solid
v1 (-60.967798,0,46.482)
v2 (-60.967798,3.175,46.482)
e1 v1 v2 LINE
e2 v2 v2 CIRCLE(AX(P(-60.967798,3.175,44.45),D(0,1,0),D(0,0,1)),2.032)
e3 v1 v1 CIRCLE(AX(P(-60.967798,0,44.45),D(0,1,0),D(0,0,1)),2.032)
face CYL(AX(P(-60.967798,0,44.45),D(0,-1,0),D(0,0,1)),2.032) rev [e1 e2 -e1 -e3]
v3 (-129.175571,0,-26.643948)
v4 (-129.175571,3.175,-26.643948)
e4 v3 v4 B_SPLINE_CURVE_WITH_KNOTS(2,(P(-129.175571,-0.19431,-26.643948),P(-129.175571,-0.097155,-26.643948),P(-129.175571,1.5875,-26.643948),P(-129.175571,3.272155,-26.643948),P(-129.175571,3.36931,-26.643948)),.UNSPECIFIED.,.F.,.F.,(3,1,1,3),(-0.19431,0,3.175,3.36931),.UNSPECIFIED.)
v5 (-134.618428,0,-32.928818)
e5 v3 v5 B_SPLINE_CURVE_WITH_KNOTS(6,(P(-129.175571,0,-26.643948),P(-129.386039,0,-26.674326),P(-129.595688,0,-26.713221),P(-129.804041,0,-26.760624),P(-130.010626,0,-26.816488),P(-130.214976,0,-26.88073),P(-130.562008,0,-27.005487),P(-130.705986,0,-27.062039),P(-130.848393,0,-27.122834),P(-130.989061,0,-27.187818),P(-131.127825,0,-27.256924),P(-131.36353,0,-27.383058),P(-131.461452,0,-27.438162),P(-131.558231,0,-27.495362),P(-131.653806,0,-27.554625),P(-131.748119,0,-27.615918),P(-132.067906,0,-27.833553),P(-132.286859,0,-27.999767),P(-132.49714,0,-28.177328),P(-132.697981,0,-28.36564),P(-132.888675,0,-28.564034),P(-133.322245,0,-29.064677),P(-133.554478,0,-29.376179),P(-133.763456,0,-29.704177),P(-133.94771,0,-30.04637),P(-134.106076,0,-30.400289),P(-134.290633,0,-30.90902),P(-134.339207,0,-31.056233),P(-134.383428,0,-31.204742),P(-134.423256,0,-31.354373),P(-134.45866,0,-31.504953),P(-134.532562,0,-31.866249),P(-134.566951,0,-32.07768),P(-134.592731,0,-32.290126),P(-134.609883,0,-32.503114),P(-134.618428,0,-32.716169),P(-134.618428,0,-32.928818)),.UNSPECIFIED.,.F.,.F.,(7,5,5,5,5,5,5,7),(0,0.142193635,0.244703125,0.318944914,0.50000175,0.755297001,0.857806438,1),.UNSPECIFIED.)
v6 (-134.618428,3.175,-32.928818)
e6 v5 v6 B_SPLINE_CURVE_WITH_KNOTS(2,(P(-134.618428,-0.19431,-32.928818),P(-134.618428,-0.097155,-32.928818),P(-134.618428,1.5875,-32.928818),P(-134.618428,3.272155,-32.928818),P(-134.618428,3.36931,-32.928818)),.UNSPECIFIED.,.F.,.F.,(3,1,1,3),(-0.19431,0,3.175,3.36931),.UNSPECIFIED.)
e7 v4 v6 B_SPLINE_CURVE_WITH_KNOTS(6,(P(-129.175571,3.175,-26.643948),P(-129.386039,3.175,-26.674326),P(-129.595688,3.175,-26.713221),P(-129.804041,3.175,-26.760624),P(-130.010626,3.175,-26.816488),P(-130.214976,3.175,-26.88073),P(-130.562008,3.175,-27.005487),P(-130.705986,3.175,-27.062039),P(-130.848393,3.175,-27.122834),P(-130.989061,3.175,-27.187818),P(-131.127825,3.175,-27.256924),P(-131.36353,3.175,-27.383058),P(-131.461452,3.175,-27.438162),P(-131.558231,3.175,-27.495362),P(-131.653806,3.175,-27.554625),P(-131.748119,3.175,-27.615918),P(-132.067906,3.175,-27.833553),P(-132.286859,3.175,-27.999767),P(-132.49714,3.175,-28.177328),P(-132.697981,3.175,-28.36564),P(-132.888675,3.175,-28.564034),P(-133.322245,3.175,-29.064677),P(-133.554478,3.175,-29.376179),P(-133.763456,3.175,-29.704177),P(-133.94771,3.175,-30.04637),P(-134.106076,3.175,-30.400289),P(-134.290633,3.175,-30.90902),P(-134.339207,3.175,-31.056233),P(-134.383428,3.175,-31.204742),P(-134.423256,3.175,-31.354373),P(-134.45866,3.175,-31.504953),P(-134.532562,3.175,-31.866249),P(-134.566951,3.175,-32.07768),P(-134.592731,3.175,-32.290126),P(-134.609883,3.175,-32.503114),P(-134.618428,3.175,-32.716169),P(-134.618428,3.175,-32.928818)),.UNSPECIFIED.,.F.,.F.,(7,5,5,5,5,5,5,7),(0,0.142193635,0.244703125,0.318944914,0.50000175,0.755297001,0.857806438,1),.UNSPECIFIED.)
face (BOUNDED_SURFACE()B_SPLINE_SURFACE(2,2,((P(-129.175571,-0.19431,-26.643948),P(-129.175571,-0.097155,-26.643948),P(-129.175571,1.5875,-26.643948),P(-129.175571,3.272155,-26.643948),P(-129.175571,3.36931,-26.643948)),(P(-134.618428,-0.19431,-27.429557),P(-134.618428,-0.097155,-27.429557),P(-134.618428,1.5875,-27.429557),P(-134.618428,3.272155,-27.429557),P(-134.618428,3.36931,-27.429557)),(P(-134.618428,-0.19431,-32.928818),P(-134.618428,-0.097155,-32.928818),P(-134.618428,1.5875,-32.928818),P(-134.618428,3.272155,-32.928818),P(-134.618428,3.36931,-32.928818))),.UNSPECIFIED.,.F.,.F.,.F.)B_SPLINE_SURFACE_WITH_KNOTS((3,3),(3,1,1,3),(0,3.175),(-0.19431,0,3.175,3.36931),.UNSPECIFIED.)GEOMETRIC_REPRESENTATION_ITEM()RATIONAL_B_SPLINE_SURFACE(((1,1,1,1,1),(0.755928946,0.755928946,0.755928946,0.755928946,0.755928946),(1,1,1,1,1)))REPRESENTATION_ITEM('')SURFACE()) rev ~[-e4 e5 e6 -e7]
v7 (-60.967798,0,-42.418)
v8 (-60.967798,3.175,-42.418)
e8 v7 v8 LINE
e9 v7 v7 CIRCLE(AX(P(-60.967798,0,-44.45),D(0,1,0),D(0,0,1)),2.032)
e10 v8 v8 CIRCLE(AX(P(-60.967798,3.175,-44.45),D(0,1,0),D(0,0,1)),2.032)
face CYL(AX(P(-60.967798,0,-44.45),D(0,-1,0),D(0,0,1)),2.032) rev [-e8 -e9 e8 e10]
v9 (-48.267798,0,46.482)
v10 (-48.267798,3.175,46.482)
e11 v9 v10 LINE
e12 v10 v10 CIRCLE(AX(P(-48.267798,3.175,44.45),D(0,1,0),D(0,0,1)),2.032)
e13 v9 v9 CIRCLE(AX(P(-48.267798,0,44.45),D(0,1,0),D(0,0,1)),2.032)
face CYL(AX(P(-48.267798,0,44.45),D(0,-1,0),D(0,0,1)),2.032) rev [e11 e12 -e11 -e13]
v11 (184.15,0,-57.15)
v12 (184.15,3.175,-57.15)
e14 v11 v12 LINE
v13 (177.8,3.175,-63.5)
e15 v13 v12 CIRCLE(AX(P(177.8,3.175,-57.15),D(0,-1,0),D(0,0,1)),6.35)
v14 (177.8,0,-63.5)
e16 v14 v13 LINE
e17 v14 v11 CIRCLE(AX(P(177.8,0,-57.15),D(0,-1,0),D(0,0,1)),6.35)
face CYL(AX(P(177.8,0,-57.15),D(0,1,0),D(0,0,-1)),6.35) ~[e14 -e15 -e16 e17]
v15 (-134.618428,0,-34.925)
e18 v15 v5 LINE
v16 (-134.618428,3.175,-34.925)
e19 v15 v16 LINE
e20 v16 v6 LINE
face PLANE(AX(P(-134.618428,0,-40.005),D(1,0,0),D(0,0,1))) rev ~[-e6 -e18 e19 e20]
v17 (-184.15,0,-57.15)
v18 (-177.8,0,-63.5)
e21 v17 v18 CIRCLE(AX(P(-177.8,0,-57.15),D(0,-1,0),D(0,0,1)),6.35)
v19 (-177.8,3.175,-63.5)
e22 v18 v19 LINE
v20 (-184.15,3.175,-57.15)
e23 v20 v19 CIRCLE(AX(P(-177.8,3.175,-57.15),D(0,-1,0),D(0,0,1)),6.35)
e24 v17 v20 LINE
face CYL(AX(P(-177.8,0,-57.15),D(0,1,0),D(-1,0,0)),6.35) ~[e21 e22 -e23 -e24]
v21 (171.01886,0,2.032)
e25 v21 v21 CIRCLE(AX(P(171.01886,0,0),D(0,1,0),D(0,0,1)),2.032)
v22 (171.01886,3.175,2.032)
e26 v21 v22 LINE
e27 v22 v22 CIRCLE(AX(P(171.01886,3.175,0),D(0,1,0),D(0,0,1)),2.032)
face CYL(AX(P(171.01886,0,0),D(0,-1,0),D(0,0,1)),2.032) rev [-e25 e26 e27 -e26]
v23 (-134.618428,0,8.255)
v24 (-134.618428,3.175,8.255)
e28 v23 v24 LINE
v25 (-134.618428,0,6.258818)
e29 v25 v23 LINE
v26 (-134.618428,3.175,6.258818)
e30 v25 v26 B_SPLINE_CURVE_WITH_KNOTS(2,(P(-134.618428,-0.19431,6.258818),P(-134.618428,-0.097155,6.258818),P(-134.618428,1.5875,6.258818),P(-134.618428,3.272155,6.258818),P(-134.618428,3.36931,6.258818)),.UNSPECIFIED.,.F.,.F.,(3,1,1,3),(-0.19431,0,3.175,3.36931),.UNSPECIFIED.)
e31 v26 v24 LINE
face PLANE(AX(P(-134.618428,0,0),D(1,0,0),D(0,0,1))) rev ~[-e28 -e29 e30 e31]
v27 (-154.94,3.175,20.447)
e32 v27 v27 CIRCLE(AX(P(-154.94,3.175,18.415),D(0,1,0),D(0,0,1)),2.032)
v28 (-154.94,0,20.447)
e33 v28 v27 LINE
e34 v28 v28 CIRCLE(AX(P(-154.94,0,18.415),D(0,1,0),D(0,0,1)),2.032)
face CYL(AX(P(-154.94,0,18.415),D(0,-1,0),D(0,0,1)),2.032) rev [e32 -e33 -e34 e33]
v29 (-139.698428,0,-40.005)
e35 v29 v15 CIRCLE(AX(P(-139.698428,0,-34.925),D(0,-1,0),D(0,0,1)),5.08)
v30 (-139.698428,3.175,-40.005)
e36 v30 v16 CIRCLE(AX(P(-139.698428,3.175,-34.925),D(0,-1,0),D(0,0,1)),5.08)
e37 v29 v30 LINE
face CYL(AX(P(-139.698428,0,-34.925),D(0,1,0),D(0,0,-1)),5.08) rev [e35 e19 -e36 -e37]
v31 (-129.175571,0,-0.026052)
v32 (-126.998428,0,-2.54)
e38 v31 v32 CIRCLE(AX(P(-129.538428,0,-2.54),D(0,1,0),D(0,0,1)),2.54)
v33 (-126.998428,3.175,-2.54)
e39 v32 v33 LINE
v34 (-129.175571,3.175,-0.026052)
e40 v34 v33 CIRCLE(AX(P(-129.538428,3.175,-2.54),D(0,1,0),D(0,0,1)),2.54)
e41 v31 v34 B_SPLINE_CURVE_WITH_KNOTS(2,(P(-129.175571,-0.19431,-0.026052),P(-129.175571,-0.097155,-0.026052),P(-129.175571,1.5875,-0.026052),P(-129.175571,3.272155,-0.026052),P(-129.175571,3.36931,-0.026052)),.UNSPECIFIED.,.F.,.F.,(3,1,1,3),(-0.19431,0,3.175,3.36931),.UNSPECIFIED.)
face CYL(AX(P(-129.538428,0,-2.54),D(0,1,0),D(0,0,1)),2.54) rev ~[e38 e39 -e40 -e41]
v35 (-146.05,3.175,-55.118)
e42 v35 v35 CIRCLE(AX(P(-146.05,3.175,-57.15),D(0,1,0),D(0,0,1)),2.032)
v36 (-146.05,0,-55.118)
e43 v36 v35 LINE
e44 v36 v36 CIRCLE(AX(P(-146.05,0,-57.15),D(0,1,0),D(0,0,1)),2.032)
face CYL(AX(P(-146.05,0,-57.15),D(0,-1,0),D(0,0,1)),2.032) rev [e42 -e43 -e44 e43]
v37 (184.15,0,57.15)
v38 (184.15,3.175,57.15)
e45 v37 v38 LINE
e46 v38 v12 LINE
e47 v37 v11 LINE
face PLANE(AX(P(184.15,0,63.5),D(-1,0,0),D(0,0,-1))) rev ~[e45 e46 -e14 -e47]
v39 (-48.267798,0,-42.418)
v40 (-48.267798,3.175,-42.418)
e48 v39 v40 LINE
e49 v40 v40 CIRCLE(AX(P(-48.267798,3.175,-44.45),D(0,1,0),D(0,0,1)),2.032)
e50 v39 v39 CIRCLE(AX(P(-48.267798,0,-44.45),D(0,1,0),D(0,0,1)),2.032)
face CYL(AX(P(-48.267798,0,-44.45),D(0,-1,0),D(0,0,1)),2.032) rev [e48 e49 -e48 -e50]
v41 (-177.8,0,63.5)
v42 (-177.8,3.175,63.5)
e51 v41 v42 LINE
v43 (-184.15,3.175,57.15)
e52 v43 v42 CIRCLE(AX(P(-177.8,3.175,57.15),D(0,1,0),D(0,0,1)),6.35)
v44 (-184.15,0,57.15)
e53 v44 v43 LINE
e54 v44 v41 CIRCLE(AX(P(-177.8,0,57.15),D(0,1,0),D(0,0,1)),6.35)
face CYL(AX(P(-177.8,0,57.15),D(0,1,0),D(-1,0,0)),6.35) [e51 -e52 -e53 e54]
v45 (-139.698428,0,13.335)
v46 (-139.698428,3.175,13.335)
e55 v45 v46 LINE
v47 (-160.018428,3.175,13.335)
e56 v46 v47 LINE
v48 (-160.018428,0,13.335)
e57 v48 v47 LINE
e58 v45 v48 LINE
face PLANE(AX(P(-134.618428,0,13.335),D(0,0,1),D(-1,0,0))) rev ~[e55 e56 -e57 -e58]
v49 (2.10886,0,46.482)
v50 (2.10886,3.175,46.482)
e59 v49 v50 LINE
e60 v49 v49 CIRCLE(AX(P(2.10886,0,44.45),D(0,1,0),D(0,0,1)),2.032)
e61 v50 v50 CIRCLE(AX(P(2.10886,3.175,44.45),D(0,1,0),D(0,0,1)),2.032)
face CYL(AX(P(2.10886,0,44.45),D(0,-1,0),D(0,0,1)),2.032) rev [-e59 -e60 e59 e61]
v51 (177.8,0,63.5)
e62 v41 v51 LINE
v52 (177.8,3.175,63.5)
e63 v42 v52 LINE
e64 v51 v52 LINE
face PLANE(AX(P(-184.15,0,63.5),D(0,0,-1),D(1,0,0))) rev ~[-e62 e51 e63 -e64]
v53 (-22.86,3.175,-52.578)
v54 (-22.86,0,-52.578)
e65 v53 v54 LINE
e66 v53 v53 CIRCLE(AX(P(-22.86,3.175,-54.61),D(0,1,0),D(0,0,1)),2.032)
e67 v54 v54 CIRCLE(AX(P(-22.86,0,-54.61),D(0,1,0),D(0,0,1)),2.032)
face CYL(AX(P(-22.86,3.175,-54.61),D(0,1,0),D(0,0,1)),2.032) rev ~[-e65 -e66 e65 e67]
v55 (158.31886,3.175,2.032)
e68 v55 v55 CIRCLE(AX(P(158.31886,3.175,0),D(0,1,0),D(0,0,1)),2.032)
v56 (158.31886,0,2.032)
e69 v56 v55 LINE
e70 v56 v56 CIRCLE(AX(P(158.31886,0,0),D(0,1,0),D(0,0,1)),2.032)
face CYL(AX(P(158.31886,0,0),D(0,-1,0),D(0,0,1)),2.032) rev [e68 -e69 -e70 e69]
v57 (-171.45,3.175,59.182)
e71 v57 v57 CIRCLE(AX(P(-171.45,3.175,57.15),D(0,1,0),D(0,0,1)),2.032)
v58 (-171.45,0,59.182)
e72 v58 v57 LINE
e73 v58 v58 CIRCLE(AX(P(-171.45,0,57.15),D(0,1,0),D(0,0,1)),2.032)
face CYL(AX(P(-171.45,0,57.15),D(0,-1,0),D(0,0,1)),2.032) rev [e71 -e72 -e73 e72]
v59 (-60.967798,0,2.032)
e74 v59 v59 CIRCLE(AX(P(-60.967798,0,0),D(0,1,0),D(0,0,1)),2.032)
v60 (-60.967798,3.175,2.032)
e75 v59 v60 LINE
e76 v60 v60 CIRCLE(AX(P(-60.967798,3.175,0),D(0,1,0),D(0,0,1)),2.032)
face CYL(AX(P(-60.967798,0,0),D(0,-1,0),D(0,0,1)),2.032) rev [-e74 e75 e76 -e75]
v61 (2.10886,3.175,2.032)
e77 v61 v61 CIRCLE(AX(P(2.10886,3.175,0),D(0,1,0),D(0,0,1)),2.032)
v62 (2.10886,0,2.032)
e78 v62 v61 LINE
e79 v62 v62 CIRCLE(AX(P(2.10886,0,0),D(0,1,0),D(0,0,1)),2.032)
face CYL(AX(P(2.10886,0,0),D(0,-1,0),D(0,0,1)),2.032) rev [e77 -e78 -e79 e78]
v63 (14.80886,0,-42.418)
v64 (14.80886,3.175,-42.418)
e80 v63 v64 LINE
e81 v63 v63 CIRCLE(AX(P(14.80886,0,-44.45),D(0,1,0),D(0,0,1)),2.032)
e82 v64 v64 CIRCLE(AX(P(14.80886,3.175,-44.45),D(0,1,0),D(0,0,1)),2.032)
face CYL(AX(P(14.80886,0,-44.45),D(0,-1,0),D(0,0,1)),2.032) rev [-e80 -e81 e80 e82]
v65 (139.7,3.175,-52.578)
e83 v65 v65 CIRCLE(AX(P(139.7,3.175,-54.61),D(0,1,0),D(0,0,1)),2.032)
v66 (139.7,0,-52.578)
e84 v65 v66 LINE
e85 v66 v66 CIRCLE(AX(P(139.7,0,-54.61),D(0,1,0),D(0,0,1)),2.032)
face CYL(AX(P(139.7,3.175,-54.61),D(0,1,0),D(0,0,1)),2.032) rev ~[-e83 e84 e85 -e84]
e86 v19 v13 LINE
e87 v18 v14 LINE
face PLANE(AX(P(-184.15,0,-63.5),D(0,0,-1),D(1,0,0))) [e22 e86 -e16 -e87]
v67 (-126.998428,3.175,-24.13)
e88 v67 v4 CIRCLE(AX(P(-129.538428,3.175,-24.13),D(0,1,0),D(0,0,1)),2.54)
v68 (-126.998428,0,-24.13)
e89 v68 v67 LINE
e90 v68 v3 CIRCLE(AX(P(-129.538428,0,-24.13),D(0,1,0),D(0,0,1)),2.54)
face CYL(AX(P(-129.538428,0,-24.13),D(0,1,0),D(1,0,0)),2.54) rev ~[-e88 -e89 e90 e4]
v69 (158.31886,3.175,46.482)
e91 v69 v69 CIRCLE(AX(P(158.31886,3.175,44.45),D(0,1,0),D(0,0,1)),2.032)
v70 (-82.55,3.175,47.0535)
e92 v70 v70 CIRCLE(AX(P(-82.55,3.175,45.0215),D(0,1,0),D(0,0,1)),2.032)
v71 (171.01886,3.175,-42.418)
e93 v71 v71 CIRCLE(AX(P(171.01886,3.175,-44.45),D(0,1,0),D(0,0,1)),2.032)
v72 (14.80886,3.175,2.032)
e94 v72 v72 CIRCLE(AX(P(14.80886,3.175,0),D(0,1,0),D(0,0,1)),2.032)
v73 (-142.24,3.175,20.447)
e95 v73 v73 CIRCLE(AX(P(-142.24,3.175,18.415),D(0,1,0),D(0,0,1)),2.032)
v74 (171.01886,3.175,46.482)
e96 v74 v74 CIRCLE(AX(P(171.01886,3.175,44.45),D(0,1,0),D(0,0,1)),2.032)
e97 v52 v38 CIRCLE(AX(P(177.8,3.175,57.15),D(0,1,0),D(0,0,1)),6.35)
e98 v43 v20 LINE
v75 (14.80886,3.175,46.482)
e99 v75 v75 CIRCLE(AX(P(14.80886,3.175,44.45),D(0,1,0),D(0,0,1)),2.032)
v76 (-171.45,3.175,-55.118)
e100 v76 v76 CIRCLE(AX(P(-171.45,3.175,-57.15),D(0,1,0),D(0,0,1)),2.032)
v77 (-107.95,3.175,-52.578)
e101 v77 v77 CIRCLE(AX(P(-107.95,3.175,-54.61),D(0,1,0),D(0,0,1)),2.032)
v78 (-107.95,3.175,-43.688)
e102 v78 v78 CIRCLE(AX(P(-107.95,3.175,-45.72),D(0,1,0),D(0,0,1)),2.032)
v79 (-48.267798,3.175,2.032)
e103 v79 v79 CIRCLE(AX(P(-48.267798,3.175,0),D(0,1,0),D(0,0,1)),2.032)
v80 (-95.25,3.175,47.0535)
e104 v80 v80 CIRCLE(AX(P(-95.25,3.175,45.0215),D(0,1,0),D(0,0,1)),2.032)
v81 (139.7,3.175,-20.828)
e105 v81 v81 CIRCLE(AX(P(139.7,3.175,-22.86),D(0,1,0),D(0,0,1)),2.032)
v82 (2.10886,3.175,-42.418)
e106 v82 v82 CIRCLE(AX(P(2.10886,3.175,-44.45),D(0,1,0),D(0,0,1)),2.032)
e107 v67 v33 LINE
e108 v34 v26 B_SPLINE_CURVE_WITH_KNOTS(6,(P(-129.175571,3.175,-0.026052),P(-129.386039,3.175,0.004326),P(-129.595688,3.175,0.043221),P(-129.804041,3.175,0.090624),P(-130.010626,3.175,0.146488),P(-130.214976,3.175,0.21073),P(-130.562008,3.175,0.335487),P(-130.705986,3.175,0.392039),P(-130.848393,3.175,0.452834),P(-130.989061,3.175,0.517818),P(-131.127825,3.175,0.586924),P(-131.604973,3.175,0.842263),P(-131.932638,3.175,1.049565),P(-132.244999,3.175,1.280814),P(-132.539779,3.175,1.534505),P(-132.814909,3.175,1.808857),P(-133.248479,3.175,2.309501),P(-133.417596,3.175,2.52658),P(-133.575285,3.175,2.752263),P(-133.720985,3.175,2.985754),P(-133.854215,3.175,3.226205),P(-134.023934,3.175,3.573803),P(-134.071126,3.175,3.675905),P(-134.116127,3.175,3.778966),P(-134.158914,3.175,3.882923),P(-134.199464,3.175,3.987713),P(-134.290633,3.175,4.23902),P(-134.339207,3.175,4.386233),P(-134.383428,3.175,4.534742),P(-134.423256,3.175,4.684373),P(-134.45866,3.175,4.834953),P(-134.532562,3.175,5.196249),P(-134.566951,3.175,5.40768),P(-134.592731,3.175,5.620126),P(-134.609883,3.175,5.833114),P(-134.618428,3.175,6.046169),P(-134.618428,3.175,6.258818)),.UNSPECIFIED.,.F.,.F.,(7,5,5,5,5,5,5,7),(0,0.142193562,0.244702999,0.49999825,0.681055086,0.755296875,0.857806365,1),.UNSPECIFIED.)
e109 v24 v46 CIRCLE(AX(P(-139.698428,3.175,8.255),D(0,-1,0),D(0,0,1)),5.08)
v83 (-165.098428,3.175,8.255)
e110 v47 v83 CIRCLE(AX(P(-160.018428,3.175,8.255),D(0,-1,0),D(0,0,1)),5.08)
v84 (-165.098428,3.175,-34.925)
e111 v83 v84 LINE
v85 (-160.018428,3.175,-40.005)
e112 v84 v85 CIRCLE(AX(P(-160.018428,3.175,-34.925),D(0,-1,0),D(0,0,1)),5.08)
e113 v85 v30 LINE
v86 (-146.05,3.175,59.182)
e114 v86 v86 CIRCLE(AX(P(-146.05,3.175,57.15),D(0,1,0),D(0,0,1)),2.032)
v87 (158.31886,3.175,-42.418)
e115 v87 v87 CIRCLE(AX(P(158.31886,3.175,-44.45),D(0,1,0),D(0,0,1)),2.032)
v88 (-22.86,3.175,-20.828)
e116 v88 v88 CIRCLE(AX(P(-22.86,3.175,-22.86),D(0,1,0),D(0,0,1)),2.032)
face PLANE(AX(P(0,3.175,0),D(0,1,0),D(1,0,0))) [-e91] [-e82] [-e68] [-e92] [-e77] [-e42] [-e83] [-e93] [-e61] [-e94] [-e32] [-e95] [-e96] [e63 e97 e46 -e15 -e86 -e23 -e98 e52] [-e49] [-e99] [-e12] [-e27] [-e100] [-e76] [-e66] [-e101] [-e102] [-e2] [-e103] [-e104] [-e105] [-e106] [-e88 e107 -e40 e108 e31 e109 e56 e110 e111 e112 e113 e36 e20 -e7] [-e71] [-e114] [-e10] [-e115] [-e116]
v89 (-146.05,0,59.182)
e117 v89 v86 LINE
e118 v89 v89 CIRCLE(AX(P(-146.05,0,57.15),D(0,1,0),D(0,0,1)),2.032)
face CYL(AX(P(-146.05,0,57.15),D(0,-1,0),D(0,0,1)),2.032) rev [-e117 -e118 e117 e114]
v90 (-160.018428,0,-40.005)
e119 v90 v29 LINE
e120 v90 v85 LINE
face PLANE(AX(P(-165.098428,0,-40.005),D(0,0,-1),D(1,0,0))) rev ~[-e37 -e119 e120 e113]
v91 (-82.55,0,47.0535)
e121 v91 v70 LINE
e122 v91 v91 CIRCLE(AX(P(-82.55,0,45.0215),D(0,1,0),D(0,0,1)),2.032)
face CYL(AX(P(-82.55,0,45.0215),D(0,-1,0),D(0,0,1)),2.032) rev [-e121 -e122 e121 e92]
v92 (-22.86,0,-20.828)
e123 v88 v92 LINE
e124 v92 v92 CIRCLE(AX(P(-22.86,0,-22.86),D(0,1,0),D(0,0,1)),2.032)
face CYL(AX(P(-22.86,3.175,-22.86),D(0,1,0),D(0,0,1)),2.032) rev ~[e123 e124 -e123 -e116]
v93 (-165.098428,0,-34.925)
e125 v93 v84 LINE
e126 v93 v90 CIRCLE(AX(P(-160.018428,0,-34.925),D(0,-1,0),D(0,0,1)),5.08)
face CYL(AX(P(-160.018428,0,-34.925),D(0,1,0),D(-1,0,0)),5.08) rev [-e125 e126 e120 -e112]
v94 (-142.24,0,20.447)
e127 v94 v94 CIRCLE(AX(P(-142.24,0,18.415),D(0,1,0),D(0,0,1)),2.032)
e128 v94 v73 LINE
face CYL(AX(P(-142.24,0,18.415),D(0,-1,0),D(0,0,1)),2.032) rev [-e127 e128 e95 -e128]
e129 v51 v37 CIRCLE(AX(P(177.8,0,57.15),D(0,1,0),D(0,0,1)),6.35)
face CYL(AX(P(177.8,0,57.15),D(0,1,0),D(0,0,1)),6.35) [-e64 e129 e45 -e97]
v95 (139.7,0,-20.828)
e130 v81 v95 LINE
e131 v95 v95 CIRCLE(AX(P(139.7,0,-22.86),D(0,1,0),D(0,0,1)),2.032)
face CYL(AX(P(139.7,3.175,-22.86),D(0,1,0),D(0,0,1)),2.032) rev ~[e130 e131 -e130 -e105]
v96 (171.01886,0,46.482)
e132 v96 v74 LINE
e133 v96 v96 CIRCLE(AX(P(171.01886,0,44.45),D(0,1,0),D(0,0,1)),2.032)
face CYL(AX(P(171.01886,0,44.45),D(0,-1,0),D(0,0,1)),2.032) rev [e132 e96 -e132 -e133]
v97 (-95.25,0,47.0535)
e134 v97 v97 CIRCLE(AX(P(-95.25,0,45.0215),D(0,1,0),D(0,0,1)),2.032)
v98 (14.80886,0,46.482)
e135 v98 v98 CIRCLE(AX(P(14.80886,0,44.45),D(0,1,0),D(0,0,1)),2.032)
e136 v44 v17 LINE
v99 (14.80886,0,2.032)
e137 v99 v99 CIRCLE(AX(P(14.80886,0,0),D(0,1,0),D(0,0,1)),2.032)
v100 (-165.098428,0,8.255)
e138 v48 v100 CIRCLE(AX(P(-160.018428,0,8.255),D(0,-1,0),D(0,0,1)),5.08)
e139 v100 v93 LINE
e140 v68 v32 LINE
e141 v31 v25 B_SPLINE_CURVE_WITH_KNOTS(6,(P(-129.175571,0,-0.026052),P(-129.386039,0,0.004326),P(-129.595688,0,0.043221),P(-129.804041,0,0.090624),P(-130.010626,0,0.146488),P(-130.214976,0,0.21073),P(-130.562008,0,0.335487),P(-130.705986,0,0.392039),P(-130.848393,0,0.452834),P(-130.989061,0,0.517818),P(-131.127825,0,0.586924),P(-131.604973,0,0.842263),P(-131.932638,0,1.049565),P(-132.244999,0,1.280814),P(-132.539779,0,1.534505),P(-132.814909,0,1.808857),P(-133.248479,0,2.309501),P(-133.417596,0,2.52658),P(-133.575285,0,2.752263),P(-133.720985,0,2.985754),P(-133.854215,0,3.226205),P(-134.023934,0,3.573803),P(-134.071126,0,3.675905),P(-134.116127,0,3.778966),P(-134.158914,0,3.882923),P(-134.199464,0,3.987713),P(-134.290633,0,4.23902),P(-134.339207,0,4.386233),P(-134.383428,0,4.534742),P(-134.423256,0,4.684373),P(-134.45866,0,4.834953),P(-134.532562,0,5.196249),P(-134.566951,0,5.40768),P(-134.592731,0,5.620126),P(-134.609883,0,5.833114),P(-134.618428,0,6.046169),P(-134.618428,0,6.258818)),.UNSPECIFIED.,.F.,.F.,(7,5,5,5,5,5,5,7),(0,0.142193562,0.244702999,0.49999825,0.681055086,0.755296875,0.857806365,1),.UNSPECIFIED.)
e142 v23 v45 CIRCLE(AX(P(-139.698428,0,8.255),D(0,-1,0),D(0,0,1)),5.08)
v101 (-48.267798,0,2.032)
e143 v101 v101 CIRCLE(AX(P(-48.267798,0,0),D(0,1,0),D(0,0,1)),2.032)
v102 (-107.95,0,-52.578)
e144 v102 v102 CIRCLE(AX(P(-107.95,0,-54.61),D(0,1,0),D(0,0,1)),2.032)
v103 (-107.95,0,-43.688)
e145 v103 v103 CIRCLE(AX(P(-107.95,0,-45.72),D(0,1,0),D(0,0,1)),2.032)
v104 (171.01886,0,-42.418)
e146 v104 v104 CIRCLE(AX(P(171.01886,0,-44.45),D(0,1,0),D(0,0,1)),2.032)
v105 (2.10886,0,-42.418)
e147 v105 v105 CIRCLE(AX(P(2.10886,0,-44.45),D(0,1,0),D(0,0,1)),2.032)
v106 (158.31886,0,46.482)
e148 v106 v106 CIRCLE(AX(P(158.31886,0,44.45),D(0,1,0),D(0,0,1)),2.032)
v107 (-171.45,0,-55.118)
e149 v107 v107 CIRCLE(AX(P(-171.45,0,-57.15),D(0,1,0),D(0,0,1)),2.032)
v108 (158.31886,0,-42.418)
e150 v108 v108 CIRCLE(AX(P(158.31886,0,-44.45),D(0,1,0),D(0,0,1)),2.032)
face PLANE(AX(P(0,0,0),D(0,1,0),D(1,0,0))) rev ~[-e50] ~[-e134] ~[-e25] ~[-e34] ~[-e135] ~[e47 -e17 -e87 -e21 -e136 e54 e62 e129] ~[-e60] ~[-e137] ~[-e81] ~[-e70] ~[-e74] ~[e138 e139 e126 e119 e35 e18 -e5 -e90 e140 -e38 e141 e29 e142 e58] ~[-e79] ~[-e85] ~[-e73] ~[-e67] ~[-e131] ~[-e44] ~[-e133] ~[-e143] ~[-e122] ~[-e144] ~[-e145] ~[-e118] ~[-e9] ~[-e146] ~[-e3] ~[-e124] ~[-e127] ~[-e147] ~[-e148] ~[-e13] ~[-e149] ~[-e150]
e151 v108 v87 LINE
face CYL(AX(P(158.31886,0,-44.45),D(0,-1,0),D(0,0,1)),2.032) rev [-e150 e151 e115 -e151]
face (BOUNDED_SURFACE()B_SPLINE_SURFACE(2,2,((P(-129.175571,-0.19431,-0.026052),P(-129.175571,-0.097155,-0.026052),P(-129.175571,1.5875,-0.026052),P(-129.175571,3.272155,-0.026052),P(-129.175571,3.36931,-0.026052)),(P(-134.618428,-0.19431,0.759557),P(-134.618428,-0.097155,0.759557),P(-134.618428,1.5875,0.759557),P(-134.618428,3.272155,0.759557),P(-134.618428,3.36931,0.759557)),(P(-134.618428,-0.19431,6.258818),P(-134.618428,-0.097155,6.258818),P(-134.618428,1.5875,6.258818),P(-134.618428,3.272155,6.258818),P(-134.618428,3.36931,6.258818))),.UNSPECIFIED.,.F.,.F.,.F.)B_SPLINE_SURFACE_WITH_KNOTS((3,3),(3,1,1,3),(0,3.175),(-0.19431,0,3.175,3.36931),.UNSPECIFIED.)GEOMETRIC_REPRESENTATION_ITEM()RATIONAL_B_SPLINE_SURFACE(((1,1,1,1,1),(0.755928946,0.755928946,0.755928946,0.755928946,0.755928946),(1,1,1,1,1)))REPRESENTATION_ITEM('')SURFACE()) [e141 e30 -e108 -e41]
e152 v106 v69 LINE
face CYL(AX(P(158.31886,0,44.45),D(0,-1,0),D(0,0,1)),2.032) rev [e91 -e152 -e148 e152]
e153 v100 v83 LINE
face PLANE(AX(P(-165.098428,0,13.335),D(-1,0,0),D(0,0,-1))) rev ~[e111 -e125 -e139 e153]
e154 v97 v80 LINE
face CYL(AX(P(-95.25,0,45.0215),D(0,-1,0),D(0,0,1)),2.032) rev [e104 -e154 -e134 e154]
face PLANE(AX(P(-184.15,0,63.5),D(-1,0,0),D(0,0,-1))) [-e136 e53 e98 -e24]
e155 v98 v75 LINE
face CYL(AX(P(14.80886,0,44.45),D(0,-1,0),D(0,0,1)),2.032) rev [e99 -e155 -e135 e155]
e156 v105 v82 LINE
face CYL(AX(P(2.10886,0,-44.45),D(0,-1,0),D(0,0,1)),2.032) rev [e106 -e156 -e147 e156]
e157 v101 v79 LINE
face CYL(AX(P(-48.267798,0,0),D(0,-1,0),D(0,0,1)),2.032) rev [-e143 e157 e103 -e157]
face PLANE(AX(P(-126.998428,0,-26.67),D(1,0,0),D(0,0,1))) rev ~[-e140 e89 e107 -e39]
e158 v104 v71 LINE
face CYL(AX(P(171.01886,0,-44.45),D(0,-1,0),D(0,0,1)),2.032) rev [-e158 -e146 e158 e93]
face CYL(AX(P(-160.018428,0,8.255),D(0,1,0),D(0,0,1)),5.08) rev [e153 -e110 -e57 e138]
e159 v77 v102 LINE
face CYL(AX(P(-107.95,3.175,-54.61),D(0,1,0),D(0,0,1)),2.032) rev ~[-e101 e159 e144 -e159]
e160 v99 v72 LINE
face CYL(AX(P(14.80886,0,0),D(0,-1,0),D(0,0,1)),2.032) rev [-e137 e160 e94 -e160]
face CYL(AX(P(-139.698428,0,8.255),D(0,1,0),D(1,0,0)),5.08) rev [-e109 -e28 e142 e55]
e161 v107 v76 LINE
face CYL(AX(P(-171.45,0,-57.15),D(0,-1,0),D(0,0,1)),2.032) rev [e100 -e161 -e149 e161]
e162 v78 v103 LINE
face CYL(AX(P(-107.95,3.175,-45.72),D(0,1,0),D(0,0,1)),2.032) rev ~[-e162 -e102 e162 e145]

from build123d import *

# Parameters (mm, degrees)
SKETCH1_W           = 368.3
SKETCH1_H           = 127
SKETCH1_R           = 2.032
BOSS_EXTRUDE1_DEPTH = 3.175
FILLET1_R           = 5.08
FILLET3_R           = 6.35
FILLET4_R           = 2.54
FILLET5_R           = 6.35
CUT_EXTRUDE1_REACH  = 196.817
SKETCH2_R           = 2.032


with BuildPart() as part:
    # Sketch1 → Boss-Extrude1 (new body)
    with BuildSketch(Plane(origin=(0, 0, 0), x_dir=(1, 0, 0), z_dir=(0, 1, 0))):
        Rectangle(SKETCH1_W, SKETCH1_H)
        with Locations(Location((-171.45, -57.15, 0), (0, 0, 270))):
            Circle(SKETCH1_R, mode=Mode.SUBTRACT)
        with Locations(Location((-146.05, -57.15, 0), (0, 0, 270))):
            Circle(SKETCH1_R, mode=Mode.SUBTRACT)
        with Locations(Location((-95.25, -45.0215, 0), (0, 0, 270))):
            Circle(SKETCH1_R, mode=Mode.SUBTRACT)
        with Locations(Location((-82.55, -45.0215, 0), (0, 0, 270))):
            Circle(SKETCH1_R, mode=Mode.SUBTRACT)
        with Locations(Location((-60.9677978, -44.45, 0), (0, 0, 270))):
            Circle(SKETCH1_R, mode=Mode.SUBTRACT)
        with Locations(Location((-48.2677978, -44.45, 0), (0, 0, 270))):
            Circle(SKETCH1_R, mode=Mode.SUBTRACT)
        with Locations(Location((-154.94, -18.415, 0), (0, 0, 270))):
            Circle(SKETCH1_R, mode=Mode.SUBTRACT)
        with Locations(Location((-142.24, -18.415, 0), (0, 0, 270))):
            Circle(SKETCH1_R, mode=Mode.SUBTRACT)
        with Locations(Location((2.1088604, -44.45, 0), (0, 0, 270))):
            Circle(SKETCH1_R, mode=Mode.SUBTRACT)
        with Locations(Location((14.8088604, -44.45, 0), (0, 0, 270))):
            Circle(SKETCH1_R, mode=Mode.SUBTRACT)
        with Locations(Location((158.3188604, -44.45, 0), (0, 0, 270))):
            Circle(SKETCH1_R, mode=Mode.SUBTRACT)
        with Locations(Location((171.0188604, -44.45, 0), (0, 0, 270))):
            Circle(SKETCH1_R, mode=Mode.SUBTRACT)
        Polygon((-134.618428208, -13.335), (-165.098428208, -13.335), (-165.098428208, 40.005), (-134.618428208, 40.005), (-134.618428208, 26.67), (-126.998428208, 26.67), (-126.998428208, 0), (-134.618428208, 0), align=None, mode=Mode.SUBTRACT)
        with Locations(Location((-60.9677978, 0, 0), (0, 0, 270))):
            Circle(SKETCH1_R, mode=Mode.SUBTRACT)
        with Locations(Location((-48.2677978, 0, 0), (0, 0, 270))):
            Circle(SKETCH1_R, mode=Mode.SUBTRACT)
        with Locations(Location((-171.45, 57.15, 0), (0, 0, 270))):
            Circle(SKETCH1_R, mode=Mode.SUBTRACT)
        with Locations(Location((-146.05, 57.15, 0), (0, 0, 270))):
            Circle(SKETCH1_R, mode=Mode.SUBTRACT)
        with Locations(Location((-60.9677978, 44.45, 0), (0, 0, 270))):
            Circle(SKETCH1_R, mode=Mode.SUBTRACT)
        with Locations(Location((-48.2677978, 44.45, 0), (0, 0, 270))):
            Circle(SKETCH1_R, mode=Mode.SUBTRACT)
        with Locations(Location((2.1088604, 0, 0), (0, 0, 270))):
            Circle(SKETCH1_R, mode=Mode.SUBTRACT)
        with Locations(Location((14.8088604, 0, 0), (0, 0, 270))):
            Circle(SKETCH1_R, mode=Mode.SUBTRACT)
        with Locations(Location((158.3188604, 0, 0), (0, 0, 270))):
            Circle(SKETCH1_R, mode=Mode.SUBTRACT)
        with Locations(Location((171.0188604, 0, 0), (0, 0, 270))):
            Circle(SKETCH1_R, mode=Mode.SUBTRACT)
        with Locations(Location((2.1088604, 44.45, 0), (0, 0, 270))):
            Circle(SKETCH1_R, mode=Mode.SUBTRACT)
        with Locations(Location((14.8088604, 44.45, 0), (0, 0, 270))):
            Circle(SKETCH1_R, mode=Mode.SUBTRACT)
        with Locations(Location((158.3188604, 44.45, 0), (0, 0, 270))):
            Circle(SKETCH1_R, mode=Mode.SUBTRACT)
        with Locations(Location((171.0188604, 44.45, 0), (0, 0, 270))):
            Circle(SKETCH1_R, mode=Mode.SUBTRACT)
    extrude(amount=BOSS_EXTRUDE1_DEPTH)

    # Fillet1
    fillet1_edges = [part.edges().sort_by_distance(p)[0] for p in [
        (-134.618428208, 1.5875, -40.005),
        (-165.098428208, 1.5875, -40.005),
        (-165.098428208, 1.5875, 13.335),
        (-134.618428208, 1.5875, 13.335),
    ]]
    fillet(fillet1_edges, radius=FILLET1_R)

    # Fillet3
    fillet3_edges = [part.edges().sort_by_distance(p)[0] for p in [
        (184.15, 1.5875, -63.5),
        (184.15, 1.5875, 63.5),
        (-184.15, 1.5875, 63.5),
        (-184.15, 1.5875, -63.5),
    ]]
    fillet(fillet3_edges, radius=FILLET3_R)

    # Fillet4
    fillet4_edges = [part.edges().sort_by_distance(p)[0] for p in [
        (-126.998428208, 1.5875, -26.67),
        (-126.998428208, 1.5875, 0),
    ]]
    fillet(fillet4_edges, radius=FILLET4_R)

    # Fillet5
    fillet5_edges = [part.edges().sort_by_distance(p)[0] for p in [
        (-134.618428208, 1.5875, 0),
        (-134.618428208, 1.5875, -26.67),
    ]]
    fillet(fillet5_edges, radius=FILLET5_R)

    # Sketch2 → Cut-Extrude1 (cut, up to next)
    with BuildSketch(Plane(origin=(0, 3.175, 0), x_dir=(1, 0, 0), z_dir=(0, 1, 0)), mode=Mode.PRIVATE) as cut_extrude1_sk1:
        with Locations(Location((139.7, 22.86, 0), (0, 0, 270))):
            Circle(SKETCH2_R)
    cut_extrude1_tool1 = extrude(cut_extrude1_sk1.sketch, amount=-CUT_EXTRUDE1_REACH, mode=Mode.PRIVATE) & part.part
    # Sketch2 → Cut-Extrude1 (cut, up to next)
    with BuildSketch(Plane(origin=(0, 3.175, 0), x_dir=(1, 0, 0), z_dir=(0, 1, 0)), mode=Mode.PRIVATE) as cut_extrude1_sk2:
        with Locations(Location((139.7, 54.61, 0), (0, 0, 270))):
            Circle(SKETCH2_R)
    cut_extrude1_tool2 = extrude(cut_extrude1_sk2.sketch, amount=-CUT_EXTRUDE1_REACH, mode=Mode.PRIVATE) & part.part
    # Sketch2 → Cut-Extrude1 (cut, up to next)
    with BuildSketch(Plane(origin=(0, 3.175, 0), x_dir=(1, 0, 0), z_dir=(0, 1, 0)), mode=Mode.PRIVATE) as cut_extrude1_sk3:
        with Locations(Location((-22.86, 54.61, 0), (0, 0, 270))):
            Circle(SKETCH2_R)
    cut_extrude1_tool3 = extrude(cut_extrude1_sk3.sketch, amount=-CUT_EXTRUDE1_REACH, mode=Mode.PRIVATE) & part.part
    # Sketch2 → Cut-Extrude1 (cut, up to next)
    with BuildSketch(Plane(origin=(0, 3.175, 0), x_dir=(1, 0, 0), z_dir=(0, 1, 0)), mode=Mode.PRIVATE) as cut_extrude1_sk4:
        with Locations(Location((-22.86, 22.86, 0), (0, 0, 270))):
            Circle(SKETCH2_R)
    cut_extrude1_tool4 = extrude(cut_extrude1_sk4.sketch, amount=-CUT_EXTRUDE1_REACH, mode=Mode.PRIVATE) & part.part
    # Sketch2 → Cut-Extrude1 (cut, up to next)
    with BuildSketch(Plane(origin=(0, 3.175, 0), x_dir=(1, 0, 0), z_dir=(0, 1, 0)), mode=Mode.PRIVATE) as cut_extrude1_sk5:
        with Locations(Location((-107.95, 54.61, 0), (0, 0, 270))):
            Circle(SKETCH2_R)
    cut_extrude1_tool5 = extrude(cut_extrude1_sk5.sketch, amount=-CUT_EXTRUDE1_REACH, mode=Mode.PRIVATE) & part.part
    # Sketch2 → Cut-Extrude1 (cut, up to next)
    with BuildSketch(Plane(origin=(0, 3.175, 0), x_dir=(1, 0, 0), z_dir=(0, 1, 0)), mode=Mode.PRIVATE) as cut_extrude1_sk6:
        with Locations(Location((-107.95, 45.72, 0), (0, 0, 270))):
            Circle(SKETCH2_R)
    cut_extrude1_tool6 = extrude(cut_extrude1_sk6.sketch, amount=-CUT_EXTRUDE1_REACH, mode=Mode.PRIVATE) & part.part
    add(cut_extrude1_tool1.solids().sort_by_distance((139.7, 3.175, -22.86))[0], mode=Mode.SUBTRACT)
    add(cut_extrude1_tool2.solids().sort_by_distance((139.7, 3.175, -54.61))[0], mode=Mode.SUBTRACT)
    add(cut_extrude1_tool3.solids().sort_by_distance((-22.86, 3.175, -54.61))[0], mode=Mode.SUBTRACT)
    add(cut_extrude1_tool4.solids().sort_by_distance((-22.86, 3.175, -22.86))[0], mode=Mode.SUBTRACT)
    add(cut_extrude1_tool5.solids().sort_by_distance((-107.95, 3.175, -54.61))[0], mode=Mode.SUBTRACT)
    add(cut_extrude1_tool6.solids().sort_by_distance((-107.95, 3.175, -45.72))[0], mode=Mode.SUBTRACT)


solid = part.part
